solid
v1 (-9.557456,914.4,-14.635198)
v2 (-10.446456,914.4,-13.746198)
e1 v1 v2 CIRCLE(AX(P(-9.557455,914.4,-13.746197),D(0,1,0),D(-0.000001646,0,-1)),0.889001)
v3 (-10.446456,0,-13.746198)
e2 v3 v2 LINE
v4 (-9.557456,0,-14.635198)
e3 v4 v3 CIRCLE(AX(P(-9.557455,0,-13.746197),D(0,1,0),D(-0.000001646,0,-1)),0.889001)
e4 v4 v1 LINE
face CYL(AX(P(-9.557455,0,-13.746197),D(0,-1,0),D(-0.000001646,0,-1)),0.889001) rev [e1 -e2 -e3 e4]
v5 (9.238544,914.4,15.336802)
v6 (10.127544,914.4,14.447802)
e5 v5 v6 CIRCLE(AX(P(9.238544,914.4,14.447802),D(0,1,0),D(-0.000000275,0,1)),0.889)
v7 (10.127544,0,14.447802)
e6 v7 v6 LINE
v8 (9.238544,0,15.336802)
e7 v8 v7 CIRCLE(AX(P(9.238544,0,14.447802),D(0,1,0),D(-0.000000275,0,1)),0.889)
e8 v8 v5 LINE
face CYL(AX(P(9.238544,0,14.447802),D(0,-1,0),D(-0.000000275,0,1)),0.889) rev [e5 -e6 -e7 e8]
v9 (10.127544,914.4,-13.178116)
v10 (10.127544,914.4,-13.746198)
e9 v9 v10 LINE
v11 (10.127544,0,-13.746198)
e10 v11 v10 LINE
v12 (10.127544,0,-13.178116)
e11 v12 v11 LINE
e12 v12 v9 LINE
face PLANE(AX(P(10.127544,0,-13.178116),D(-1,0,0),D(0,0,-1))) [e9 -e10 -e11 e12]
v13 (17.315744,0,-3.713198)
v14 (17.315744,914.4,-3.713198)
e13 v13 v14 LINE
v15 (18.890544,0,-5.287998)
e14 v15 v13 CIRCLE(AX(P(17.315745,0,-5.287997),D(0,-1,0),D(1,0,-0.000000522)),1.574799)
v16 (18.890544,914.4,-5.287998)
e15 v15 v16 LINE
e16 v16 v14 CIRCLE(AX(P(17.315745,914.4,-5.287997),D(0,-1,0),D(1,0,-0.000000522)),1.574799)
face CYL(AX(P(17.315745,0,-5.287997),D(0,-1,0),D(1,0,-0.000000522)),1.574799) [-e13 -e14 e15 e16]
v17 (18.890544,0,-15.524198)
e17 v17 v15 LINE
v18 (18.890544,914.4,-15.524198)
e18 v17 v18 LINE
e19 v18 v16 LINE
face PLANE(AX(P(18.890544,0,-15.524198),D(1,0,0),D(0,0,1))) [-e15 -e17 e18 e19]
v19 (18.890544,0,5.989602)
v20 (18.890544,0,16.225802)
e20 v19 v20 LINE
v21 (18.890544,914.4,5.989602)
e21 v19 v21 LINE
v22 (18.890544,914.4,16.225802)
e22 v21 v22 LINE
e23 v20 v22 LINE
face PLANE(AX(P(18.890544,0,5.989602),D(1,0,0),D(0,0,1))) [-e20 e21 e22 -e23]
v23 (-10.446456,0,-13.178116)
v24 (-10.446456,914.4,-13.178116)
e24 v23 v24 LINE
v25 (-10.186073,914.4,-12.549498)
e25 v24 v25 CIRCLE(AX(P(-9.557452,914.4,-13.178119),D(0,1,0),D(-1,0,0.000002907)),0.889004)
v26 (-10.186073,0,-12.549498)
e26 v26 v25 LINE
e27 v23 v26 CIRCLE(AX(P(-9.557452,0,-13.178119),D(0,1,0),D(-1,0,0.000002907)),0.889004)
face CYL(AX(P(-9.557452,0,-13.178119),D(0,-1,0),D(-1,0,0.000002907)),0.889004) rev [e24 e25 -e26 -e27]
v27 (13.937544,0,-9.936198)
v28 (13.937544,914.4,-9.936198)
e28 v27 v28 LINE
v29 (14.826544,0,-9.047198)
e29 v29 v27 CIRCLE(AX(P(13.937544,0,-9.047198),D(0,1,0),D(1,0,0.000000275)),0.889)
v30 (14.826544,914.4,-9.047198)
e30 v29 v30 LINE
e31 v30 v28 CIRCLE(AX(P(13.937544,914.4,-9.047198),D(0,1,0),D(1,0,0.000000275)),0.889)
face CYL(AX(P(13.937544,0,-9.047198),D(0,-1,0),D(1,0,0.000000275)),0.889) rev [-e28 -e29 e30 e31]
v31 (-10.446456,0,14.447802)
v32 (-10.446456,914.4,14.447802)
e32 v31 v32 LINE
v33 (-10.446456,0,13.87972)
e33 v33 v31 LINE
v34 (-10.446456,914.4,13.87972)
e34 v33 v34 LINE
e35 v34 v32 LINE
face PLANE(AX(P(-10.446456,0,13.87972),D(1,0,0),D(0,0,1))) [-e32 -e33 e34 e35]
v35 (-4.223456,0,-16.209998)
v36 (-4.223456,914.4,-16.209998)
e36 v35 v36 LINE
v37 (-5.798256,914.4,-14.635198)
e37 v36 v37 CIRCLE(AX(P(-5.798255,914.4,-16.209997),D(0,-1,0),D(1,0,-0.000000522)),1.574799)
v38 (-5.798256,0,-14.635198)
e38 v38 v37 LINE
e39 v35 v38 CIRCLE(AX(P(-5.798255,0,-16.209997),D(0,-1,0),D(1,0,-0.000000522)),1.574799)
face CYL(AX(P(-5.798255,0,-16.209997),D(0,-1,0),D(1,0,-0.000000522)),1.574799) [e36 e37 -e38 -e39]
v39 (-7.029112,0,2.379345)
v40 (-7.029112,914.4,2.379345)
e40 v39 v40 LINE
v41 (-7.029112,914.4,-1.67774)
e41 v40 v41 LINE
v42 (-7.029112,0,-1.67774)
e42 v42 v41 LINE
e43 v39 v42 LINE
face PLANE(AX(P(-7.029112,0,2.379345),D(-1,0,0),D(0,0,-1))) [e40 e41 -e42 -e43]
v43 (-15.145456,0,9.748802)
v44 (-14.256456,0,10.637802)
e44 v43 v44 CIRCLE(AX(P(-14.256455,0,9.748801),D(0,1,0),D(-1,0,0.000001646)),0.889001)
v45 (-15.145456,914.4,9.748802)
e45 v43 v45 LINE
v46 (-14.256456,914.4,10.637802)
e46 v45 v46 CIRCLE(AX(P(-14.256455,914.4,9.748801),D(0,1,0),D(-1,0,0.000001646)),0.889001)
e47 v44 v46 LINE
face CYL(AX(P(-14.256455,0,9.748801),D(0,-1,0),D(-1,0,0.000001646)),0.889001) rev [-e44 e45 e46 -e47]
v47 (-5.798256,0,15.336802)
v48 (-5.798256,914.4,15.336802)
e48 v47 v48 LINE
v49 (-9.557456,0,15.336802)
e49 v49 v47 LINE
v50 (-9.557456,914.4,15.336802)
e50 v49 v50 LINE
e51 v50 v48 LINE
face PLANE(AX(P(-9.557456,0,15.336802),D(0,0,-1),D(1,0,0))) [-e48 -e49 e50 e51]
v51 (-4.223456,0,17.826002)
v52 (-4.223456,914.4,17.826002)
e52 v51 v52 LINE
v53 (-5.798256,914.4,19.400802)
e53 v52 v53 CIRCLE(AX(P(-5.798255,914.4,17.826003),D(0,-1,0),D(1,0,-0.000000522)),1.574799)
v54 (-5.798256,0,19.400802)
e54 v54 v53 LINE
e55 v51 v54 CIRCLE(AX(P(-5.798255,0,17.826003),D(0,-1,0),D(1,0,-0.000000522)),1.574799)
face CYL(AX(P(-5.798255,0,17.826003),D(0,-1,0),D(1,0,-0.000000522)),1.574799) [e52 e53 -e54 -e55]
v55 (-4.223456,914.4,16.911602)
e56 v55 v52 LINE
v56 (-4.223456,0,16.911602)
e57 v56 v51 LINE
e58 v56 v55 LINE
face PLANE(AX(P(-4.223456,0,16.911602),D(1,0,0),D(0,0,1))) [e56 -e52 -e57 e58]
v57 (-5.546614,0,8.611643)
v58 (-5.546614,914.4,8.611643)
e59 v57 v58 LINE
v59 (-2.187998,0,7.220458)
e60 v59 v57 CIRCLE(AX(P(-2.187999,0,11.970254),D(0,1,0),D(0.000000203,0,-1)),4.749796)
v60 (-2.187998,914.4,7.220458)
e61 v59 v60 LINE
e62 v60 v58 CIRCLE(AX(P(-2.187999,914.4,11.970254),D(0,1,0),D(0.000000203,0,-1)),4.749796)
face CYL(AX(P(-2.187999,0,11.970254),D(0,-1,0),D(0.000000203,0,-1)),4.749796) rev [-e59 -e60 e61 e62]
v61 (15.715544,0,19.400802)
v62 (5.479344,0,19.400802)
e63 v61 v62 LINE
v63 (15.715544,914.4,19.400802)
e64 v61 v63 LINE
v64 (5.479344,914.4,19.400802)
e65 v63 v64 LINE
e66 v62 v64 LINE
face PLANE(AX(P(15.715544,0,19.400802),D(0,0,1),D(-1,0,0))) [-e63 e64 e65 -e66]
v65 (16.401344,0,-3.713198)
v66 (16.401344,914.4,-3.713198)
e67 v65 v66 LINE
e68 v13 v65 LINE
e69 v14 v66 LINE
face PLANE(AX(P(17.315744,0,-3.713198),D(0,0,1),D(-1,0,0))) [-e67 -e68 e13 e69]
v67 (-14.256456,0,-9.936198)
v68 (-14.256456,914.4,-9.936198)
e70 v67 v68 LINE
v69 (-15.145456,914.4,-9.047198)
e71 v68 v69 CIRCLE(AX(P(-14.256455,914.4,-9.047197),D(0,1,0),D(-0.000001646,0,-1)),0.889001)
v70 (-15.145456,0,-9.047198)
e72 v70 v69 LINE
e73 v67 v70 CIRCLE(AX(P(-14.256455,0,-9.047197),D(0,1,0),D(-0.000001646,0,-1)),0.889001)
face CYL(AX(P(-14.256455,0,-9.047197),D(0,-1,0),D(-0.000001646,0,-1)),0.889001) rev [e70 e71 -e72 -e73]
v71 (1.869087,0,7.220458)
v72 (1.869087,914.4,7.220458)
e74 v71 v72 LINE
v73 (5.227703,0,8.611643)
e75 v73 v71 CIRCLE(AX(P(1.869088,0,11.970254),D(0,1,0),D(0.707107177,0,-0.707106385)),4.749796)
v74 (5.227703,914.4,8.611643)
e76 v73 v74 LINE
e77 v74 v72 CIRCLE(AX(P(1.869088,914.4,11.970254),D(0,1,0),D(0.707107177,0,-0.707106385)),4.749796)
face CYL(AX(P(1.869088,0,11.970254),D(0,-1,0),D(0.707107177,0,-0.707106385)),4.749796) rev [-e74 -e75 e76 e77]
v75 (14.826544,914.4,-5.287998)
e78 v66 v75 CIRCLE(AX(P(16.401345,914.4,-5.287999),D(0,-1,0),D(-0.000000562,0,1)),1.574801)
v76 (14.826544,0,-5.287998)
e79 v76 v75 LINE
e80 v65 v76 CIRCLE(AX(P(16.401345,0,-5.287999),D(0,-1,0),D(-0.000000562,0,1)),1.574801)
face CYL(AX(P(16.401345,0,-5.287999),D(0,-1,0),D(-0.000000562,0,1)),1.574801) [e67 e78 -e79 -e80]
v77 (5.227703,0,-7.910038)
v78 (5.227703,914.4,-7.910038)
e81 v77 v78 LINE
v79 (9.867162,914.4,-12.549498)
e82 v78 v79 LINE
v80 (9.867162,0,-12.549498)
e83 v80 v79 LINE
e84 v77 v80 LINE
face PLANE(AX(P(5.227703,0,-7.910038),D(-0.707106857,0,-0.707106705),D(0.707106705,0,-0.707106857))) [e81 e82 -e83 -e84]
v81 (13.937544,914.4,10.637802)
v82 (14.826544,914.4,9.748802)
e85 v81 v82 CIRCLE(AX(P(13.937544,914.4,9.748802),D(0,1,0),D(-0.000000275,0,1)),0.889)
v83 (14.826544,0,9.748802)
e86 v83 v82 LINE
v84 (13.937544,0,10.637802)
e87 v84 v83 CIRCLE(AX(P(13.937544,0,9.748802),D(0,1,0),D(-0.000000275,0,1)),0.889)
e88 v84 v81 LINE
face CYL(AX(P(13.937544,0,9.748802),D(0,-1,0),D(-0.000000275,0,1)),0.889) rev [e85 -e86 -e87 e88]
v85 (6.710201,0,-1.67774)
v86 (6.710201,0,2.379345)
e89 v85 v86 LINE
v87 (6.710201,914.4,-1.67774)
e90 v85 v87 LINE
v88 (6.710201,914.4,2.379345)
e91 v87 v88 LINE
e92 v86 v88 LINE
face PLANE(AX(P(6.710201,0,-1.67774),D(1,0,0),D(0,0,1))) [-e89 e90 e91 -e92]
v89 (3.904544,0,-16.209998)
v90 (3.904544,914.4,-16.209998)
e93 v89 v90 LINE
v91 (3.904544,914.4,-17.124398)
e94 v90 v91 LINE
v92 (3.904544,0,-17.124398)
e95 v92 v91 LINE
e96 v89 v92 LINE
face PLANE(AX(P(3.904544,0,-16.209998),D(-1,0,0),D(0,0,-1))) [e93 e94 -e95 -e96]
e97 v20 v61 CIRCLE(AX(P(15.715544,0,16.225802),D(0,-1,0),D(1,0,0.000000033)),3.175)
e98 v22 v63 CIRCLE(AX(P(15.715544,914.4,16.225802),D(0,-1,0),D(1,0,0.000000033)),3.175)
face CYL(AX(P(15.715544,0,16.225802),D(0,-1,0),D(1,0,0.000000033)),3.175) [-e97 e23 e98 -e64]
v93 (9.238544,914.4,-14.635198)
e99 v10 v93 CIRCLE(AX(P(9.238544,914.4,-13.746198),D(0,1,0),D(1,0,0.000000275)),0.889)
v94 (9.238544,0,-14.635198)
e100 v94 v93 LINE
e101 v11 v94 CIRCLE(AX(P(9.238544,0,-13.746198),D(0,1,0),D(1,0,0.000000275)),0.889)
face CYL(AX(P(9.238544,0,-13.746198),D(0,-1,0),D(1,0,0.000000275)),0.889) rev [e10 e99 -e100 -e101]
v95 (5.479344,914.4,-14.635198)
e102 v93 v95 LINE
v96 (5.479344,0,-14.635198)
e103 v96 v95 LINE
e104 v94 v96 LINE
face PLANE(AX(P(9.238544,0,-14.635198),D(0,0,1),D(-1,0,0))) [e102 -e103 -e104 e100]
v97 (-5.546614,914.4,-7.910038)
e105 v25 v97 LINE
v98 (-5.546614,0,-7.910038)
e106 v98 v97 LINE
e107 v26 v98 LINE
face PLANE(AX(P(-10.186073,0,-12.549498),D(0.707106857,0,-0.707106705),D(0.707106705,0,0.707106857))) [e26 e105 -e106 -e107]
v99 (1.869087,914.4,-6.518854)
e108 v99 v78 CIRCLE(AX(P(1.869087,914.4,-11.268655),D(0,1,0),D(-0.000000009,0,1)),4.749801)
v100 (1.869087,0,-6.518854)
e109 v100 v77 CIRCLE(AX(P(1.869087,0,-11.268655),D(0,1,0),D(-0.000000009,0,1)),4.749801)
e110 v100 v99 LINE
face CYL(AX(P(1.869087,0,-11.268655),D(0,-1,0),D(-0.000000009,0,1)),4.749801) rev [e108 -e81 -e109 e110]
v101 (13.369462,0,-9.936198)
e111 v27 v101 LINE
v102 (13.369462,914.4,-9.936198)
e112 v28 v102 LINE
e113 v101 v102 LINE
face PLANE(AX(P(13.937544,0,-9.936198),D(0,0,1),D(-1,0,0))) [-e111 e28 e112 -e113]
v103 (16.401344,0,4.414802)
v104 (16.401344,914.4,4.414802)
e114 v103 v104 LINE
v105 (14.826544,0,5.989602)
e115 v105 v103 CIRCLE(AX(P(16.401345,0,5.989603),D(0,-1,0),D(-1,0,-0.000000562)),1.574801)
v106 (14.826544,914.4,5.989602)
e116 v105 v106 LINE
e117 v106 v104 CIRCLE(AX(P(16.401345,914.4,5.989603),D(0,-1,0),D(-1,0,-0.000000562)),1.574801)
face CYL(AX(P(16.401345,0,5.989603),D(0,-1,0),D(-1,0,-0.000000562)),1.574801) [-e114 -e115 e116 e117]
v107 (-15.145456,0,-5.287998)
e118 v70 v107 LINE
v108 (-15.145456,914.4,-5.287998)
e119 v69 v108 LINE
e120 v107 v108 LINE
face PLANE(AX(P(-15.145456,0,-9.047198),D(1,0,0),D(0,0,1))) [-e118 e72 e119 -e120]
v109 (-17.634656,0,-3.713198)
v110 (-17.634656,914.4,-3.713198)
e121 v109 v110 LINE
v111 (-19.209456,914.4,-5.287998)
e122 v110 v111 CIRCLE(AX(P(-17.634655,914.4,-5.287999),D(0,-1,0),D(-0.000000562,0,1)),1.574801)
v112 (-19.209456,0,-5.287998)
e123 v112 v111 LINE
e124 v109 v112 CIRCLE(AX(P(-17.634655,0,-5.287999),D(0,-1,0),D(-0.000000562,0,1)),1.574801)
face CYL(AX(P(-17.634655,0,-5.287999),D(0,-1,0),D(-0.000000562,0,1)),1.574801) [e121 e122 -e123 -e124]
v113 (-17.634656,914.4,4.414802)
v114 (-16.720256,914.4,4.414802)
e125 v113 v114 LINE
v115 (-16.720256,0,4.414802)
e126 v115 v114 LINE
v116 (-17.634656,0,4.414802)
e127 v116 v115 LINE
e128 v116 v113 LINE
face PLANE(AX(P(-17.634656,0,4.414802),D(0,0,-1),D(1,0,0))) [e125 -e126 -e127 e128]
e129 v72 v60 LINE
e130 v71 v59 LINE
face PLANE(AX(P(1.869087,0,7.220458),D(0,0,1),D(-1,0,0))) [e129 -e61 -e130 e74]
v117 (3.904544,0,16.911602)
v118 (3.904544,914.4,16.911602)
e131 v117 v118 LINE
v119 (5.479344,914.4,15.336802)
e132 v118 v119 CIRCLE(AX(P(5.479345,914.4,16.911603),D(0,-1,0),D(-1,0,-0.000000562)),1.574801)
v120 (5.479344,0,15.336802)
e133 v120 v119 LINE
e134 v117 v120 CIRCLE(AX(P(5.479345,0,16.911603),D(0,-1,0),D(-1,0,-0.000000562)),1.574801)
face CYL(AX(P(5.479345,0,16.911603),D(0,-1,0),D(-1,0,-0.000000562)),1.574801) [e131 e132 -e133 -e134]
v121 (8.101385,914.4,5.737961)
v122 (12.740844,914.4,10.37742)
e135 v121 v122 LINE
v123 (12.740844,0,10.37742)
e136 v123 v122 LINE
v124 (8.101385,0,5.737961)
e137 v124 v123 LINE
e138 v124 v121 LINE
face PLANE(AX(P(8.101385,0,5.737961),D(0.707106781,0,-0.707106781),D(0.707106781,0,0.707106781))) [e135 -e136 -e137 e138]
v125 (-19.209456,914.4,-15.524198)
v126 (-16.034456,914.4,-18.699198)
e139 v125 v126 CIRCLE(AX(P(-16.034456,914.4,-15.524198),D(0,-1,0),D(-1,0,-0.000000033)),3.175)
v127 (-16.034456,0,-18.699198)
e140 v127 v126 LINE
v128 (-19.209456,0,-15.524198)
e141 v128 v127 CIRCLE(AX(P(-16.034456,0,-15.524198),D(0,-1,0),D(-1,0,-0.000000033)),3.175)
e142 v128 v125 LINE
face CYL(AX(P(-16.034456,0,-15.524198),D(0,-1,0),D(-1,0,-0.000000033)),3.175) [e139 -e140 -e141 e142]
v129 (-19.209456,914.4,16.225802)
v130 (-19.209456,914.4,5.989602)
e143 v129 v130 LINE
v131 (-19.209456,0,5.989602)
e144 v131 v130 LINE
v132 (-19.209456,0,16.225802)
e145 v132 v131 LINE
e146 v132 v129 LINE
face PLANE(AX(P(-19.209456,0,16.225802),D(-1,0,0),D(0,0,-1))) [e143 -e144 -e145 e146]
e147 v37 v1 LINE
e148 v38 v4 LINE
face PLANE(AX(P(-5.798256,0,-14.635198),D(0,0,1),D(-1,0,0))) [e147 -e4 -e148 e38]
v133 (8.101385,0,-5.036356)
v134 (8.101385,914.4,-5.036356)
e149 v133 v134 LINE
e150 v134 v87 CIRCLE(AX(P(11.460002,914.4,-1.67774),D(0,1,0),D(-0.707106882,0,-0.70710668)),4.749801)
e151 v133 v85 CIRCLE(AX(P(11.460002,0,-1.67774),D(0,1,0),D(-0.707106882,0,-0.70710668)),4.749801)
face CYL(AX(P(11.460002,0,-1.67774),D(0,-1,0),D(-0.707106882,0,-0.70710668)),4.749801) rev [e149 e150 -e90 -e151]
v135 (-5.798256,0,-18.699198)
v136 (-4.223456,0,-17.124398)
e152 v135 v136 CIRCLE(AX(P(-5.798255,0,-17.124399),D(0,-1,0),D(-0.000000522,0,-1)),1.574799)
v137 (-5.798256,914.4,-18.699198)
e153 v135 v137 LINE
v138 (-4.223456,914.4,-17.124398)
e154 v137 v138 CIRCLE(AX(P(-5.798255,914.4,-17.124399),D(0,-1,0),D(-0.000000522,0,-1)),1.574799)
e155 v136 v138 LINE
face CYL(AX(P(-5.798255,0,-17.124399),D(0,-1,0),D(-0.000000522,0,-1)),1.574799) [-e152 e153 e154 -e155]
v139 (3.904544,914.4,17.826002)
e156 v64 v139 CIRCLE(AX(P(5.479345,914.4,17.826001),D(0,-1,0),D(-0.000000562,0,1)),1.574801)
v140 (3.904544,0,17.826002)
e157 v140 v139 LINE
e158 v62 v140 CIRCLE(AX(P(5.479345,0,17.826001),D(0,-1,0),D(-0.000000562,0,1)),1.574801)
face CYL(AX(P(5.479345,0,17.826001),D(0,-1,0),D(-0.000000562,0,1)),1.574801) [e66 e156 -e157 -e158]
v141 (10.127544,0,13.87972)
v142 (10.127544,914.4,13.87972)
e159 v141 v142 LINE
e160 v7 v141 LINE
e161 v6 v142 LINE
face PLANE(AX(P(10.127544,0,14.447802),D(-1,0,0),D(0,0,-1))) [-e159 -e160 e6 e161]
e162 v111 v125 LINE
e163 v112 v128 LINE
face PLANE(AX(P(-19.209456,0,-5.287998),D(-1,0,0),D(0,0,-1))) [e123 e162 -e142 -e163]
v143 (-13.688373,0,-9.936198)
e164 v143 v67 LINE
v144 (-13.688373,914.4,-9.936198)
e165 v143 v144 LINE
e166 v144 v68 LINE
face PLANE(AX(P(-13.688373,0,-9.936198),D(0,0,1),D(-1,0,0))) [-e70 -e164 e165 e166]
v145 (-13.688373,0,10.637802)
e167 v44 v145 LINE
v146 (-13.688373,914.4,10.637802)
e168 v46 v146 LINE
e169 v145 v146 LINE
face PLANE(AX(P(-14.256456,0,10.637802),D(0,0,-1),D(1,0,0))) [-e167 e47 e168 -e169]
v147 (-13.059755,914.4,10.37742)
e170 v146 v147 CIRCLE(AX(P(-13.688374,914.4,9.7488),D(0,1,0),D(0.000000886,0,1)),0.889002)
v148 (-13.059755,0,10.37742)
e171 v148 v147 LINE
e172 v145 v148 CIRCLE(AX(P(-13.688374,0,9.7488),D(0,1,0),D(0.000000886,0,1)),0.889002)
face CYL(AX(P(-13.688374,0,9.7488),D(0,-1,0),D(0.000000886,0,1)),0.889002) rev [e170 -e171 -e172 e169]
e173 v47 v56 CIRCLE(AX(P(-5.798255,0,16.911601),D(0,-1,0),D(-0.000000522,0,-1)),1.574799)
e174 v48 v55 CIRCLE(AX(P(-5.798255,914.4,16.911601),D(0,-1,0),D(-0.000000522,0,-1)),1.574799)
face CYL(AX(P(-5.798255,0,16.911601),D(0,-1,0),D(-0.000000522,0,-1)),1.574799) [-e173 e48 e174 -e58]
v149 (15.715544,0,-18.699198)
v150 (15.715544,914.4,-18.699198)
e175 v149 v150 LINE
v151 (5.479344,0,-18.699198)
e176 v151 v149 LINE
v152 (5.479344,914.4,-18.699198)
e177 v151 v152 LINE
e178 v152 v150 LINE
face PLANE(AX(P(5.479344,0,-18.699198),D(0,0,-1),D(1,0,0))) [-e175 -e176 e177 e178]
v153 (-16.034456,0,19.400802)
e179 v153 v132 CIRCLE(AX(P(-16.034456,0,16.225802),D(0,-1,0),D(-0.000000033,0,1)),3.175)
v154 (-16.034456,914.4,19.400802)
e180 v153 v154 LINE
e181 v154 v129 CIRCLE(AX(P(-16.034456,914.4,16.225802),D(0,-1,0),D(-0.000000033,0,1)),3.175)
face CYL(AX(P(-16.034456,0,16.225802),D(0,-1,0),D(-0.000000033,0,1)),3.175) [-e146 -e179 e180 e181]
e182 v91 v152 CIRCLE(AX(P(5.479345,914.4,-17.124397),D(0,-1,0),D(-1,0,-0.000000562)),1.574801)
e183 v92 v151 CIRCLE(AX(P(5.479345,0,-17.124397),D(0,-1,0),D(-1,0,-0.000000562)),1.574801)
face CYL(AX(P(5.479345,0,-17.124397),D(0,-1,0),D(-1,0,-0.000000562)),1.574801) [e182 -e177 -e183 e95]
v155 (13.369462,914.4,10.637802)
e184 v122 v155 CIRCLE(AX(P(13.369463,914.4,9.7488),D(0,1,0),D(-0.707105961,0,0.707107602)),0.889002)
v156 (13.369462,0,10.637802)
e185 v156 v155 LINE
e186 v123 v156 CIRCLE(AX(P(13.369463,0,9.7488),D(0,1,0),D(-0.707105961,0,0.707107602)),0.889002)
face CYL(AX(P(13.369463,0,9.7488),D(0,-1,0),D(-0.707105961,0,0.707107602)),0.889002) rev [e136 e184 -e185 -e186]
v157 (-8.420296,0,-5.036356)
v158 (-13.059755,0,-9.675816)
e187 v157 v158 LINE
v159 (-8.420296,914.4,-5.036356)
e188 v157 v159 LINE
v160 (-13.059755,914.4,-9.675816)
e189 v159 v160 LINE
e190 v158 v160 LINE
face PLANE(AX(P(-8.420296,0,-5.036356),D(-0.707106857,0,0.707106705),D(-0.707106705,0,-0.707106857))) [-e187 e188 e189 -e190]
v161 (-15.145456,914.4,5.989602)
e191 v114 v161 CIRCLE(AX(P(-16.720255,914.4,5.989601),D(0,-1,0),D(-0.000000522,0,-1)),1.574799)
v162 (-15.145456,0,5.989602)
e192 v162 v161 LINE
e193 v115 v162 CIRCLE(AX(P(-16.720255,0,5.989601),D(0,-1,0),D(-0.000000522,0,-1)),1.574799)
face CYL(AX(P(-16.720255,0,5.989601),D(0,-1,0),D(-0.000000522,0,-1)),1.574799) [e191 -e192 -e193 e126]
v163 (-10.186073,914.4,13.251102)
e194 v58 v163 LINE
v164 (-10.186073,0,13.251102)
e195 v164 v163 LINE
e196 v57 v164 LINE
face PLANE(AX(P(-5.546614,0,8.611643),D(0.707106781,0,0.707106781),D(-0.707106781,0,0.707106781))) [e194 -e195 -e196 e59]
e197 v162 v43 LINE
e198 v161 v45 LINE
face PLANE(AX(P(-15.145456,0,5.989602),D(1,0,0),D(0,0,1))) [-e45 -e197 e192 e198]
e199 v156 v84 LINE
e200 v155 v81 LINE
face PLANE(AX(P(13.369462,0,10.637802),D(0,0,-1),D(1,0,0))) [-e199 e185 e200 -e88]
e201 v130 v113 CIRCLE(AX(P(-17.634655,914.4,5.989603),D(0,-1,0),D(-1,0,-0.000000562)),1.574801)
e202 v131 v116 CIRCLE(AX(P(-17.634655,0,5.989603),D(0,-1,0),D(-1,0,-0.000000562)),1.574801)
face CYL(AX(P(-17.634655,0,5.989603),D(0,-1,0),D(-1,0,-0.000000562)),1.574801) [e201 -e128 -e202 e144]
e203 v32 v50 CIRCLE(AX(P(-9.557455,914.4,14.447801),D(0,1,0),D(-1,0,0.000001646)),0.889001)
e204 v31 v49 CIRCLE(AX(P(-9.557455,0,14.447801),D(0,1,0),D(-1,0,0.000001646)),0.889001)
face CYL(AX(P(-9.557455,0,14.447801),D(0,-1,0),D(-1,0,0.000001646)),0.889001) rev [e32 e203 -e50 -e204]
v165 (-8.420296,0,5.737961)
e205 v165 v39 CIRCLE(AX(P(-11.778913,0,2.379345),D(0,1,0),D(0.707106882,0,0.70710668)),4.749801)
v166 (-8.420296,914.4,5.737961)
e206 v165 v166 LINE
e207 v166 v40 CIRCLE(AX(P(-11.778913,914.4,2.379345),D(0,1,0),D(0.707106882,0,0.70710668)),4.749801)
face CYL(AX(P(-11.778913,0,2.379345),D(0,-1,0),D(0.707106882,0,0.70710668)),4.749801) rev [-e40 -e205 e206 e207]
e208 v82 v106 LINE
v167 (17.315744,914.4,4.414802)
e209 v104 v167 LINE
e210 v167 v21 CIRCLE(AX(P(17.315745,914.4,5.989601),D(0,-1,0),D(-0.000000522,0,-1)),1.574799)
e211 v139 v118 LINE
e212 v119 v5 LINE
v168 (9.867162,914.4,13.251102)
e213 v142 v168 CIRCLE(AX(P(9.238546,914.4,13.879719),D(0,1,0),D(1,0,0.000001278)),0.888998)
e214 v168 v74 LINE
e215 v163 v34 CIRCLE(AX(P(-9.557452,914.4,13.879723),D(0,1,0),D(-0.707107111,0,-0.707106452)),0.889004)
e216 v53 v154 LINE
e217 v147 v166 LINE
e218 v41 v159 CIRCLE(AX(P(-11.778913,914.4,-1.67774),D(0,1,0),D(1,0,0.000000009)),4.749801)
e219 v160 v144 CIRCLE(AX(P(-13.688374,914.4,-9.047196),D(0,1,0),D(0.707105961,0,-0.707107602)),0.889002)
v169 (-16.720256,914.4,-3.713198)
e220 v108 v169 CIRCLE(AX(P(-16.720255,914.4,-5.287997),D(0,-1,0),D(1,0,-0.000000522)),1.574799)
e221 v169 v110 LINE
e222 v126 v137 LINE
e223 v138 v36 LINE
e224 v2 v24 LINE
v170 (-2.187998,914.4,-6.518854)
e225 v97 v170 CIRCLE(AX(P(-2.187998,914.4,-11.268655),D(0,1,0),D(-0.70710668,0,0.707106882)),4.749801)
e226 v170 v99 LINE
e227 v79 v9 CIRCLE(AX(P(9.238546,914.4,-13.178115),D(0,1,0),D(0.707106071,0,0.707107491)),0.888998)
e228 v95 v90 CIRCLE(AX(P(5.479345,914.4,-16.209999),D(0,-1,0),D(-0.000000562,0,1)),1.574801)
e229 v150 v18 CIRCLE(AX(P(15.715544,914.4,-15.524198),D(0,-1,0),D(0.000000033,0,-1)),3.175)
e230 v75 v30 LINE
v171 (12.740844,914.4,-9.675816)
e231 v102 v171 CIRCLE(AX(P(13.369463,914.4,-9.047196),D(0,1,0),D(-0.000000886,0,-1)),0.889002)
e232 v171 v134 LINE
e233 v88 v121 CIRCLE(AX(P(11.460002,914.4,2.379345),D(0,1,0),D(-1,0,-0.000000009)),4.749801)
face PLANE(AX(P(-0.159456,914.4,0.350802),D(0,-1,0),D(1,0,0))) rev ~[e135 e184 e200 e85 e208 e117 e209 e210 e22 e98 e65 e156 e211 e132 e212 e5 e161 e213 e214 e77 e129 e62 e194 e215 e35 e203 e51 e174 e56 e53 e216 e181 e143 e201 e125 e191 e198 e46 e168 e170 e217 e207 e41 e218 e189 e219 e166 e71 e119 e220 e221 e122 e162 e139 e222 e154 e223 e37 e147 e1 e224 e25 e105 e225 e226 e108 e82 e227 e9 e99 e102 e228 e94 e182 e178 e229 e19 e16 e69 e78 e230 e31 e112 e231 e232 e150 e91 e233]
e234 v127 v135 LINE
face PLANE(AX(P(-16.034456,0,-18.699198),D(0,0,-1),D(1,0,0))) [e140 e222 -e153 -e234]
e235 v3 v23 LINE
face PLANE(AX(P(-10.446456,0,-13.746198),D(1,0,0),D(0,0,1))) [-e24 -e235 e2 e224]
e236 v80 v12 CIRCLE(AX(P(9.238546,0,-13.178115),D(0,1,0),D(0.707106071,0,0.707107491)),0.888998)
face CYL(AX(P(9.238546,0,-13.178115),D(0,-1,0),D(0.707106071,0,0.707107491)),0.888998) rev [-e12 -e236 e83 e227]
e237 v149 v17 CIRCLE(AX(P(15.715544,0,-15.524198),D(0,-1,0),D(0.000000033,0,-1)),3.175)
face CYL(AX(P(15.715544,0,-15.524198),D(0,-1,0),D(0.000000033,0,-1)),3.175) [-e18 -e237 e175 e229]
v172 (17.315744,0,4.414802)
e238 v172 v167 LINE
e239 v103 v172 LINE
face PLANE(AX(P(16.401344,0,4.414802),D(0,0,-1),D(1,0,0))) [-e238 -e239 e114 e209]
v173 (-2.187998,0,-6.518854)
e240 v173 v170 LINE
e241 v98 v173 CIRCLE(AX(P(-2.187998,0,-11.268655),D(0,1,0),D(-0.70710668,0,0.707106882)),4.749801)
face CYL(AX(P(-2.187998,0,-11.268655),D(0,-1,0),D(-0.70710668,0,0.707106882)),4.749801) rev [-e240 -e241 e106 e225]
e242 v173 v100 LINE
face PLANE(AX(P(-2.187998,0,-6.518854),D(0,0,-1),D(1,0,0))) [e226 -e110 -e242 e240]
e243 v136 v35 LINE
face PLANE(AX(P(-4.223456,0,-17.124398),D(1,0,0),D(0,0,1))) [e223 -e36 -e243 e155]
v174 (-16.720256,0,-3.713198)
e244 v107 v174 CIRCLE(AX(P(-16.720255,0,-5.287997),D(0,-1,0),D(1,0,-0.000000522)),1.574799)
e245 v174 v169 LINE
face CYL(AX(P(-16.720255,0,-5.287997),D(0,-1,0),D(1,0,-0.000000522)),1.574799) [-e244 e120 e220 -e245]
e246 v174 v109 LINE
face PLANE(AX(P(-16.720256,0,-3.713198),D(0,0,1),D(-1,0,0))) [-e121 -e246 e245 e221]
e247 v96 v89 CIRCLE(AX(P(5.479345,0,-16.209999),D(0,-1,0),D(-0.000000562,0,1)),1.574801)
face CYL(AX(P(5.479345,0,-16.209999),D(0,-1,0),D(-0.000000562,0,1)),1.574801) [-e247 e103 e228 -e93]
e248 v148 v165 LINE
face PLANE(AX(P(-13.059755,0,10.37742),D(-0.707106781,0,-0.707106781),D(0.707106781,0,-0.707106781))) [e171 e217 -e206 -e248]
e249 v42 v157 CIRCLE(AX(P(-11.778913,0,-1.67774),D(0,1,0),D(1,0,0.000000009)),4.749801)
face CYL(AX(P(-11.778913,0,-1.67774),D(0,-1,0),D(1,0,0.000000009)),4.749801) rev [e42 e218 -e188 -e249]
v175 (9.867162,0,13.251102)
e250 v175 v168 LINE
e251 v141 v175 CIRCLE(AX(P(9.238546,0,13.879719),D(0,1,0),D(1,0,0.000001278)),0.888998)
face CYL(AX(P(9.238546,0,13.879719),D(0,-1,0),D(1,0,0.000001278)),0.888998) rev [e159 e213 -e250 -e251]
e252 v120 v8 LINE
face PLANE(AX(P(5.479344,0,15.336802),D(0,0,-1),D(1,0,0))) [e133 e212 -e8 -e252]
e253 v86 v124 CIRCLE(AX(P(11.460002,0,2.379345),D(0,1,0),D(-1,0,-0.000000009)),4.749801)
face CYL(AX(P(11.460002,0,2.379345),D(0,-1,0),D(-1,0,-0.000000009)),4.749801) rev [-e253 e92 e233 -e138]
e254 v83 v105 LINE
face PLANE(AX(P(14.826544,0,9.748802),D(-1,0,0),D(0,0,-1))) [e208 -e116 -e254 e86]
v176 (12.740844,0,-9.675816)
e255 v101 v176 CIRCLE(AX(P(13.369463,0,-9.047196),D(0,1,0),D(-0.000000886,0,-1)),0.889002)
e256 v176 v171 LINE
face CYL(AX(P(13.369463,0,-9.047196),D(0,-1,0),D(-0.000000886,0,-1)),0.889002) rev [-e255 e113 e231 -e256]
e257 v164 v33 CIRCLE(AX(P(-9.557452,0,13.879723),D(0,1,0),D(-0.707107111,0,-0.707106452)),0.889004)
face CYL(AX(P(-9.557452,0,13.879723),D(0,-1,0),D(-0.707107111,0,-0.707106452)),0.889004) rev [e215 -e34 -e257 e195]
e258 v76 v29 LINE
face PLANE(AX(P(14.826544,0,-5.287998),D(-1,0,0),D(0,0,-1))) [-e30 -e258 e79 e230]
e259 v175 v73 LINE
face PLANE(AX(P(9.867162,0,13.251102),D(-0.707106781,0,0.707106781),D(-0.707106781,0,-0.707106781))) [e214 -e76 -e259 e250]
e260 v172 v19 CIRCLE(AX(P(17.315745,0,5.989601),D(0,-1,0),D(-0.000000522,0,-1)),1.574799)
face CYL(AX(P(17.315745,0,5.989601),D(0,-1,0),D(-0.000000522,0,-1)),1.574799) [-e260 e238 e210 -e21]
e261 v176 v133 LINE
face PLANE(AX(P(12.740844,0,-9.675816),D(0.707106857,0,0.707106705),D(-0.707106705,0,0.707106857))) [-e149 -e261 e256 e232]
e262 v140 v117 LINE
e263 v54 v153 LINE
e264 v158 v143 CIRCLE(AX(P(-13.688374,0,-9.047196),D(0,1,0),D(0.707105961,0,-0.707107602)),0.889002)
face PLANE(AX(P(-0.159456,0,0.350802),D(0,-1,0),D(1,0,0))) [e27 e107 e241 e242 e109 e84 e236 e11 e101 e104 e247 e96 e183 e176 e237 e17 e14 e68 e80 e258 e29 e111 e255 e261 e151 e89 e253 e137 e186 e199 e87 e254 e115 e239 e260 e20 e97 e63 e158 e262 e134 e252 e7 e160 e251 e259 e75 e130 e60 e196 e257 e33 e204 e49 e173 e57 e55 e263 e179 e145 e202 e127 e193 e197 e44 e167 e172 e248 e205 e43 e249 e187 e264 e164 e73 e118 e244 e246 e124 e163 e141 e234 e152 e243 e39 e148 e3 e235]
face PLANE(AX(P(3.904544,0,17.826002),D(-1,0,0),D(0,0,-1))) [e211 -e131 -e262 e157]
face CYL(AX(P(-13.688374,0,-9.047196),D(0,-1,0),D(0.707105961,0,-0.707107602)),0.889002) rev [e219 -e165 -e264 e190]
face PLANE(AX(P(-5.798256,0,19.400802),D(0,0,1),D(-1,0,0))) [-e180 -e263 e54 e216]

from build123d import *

# Parameters (mm, degrees)
F1_DEPTH = 914.4


with BuildPart() as f1:
    # F0 (on Front) → F1 (new body)
    with BuildSketch(Plane.XZ):
        with BuildLine():
            Line((-5.798256, 19.400802), (-16.034456, 19.400802))
            ThreePointArc((-16.034456, 19.400802), (-18.27952, 18.470866), (-19.209456, 16.225802))
            Line((-19.209456, 16.225802), (-19.209456, 5.989602))
            ThreePointArc((-19.209456, 5.989602), (-18.748207, 4.87605), (-17.634656, 4.414802))
            Line((-17.634656, 4.414802), (-16.720256, 4.414802))
            ThreePointArc((-16.720256, 4.414802), (-15.606704, 4.87605), (-15.145456, 5.989602))
            Line((-15.145456, 5.989602), (-15.145456, 9.748802))
            ThreePointArc((-15.145456, 9.748802), (-14.885073, 10.37742), (-14.256456, 10.637802))
            Line((-14.256456, 10.637802), (-13.688373, 10.637802))
            ThreePointArc((-13.688373, 10.637802), (-13.348168, 10.570131), (-13.059755, 10.37742))
            Line((-13.059755, 10.37742), (-8.420296, 5.737961))
            ThreePointArc((-8.420296, 5.737961), (-7.390669, 4.197015), (-7.029112, 2.379345))
            Line((-7.029112, 2.379345), (-7.029112, -1.67774))
            ThreePointArc((-7.029112, -1.67774), (-7.390669, -3.49541), (-8.420296, -5.036356))
            Line((-8.420296, -5.036356), (-13.059755, -9.675816))
            ThreePointArc((-13.059755, -9.675816), (-13.348168, -9.868527), (-13.688373, -9.936198))
            Line((-13.688373, -9.936198), (-14.256456, -9.936198))
            ThreePointArc((-14.256456, -9.936198), (-14.885073, -9.675816), (-15.145456, -9.047198))
            Line((-15.145456, -9.047198), (-15.145456, -5.287998))
            ThreePointArc((-15.145456, -5.287998), (-15.606704, -4.174446), (-16.720256, -3.713198))
            Line((-16.720256, -3.713198), (-17.634656, -3.713198))
            ThreePointArc((-17.634656, -3.713198), (-18.748207, -4.174446), (-19.209456, -5.287998))
            Line((-19.209456, -5.287998), (-19.209456, -15.524198))
            ThreePointArc((-19.209456, -15.524198), (-18.27952, -17.769262), (-16.034456, -18.699198))
            Line((-16.034456, -18.699198), (-5.798256, -18.699198))
            ThreePointArc((-5.798256, -18.699198), (-4.684704, -18.23795), (-4.223456, -17.124398))
            Line((-4.223456, -17.124398), (-4.223456, -16.209998))
            ThreePointArc((-4.223456, -16.209998), (-4.684704, -15.096446), (-5.798256, -14.635198))
            Line((-5.798256, -14.635198), (-9.557456, -14.635198))
            ThreePointArc((-9.557456, -14.635198), (-10.186073, -14.374816), (-10.446456, -13.746198))
            Line((-10.446456, -13.746198), (-10.446456, -13.178116))
            ThreePointArc((-10.446456, -13.178116), (-10.378784, -12.83791), (-10.186073, -12.549498))
            Line((-10.186073, -12.549498), (-5.546614, -7.910038))
            ThreePointArc((-5.546614, -7.910038), (-4.005668, -6.880411), (-2.187998, -6.518854))
            Line((-2.187998, -6.518854), (1.869087, -6.518854))
            ThreePointArc((1.869087, -6.518854), (3.686757, -6.880411), (5.227703, -7.910038))
            Line((5.227703, -7.910038), (9.867162, -12.549498))
            ThreePointArc((9.867162, -12.549498), (10.059873, -12.83791), (10.127544, -13.178116))
            Line((10.127544, -13.178116), (10.127544, -13.746198))
            ThreePointArc((10.127544, -13.746198), (9.867162, -14.374816), (9.238544, -14.635198))
            Line((9.238544, -14.635198), (5.479344, -14.635198))
            ThreePointArc((5.479344, -14.635198), (4.365793, -15.096446), (3.904544, -16.209998))
            Line((3.904544, -16.209998), (3.904544, -17.124398))
            ThreePointArc((3.904544, -17.124398), (4.365793, -18.23795), (5.479344, -18.699198))
            Line((5.479344, -18.699198), (15.715544, -18.699198))
            ThreePointArc((15.715544, -18.699198), (17.960608, -17.769262), (18.890544, -15.524198))
            Line((18.890544, -15.524198), (18.890544, -5.287998))
            ThreePointArc((18.890544, -5.287998), (18.429296, -4.174446), (17.315744, -3.713198))
            Line((17.315744, -3.713198), (16.401344, -3.713198))
            ThreePointArc((16.401344, -3.713198), (15.287793, -4.174446), (14.826544, -5.287998))
            Line((14.826544, -5.287998), (14.826544, -9.047198))
            ThreePointArc((14.826544, -9.047198), (14.566162, -9.675816), (13.937544, -9.936198))
            Line((13.937544, -9.936198), (13.369462, -9.936198))
            ThreePointArc((13.369462, -9.936198), (13.029257, -9.868527), (12.740844, -9.675816))
            Line((12.740844, -9.675816), (8.101385, -5.036356))
            ThreePointArc((8.101385, -5.036356), (7.071758, -3.49541), (6.710201, -1.67774))
            Line((6.710201, -1.67774), (6.710201, 2.379345))
            ThreePointArc((6.710201, 2.379345), (7.071758, 4.197015), (8.101385, 5.737961))
            Line((8.101385, 5.737961), (12.740844, 10.37742))
            ThreePointArc((12.740844, 10.37742), (13.029257, 10.570131), (13.369462, 10.637802))
            Line((13.369462, 10.637802), (13.937544, 10.637802))
            ThreePointArc((13.937544, 10.637802), (14.566162, 10.37742), (14.826544, 9.748802))
            Line((14.826544, 9.748802), (14.826544, 5.989602))
            ThreePointArc((14.826544, 5.989602), (15.287793, 4.87605), (16.401344, 4.414802))
            Line((16.401344, 4.414802), (17.315744, 4.414802))
            ThreePointArc((17.315744, 4.414802), (18.429296, 4.87605), (18.890544, 5.989602))
            Line((18.890544, 5.989602), (18.890544, 16.225802))
            ThreePointArc((18.890544, 16.225802), (17.960608, 18.470866), (15.715544, 19.400802))
            Line((15.715544, 19.400802), (5.479344, 19.400802))
            ThreePointArc((5.479344, 19.400802), (4.365793, 18.939554), (3.904544, 17.826002))
            Line((3.904544, 17.826002), (3.904544, 16.911602))
            ThreePointArc((3.904544, 16.911602), (4.365793, 15.79805), (5.479344, 15.336802))
            Line((5.479344, 15.336802), (9.238544, 15.336802))
            ThreePointArc((9.238544, 15.336802), (9.867162, 15.07642), (10.127544, 14.447802))
            Line((10.127544, 14.447802), (10.127544, 13.87972))
            ThreePointArc((10.127544, 13.87972), (10.059873, 13.539514), (9.867162, 13.251102))
            Line((9.867162, 13.251102), (5.227703, 8.611643))
            ThreePointArc((5.227703, 8.611643), (3.686757, 7.582015), (1.869087, 7.220458))
            Line((1.869087, 7.220458), (-2.187998, 7.220458))
            ThreePointArc((-2.187998, 7.220458), (-4.005668, 7.582015), (-5.546614, 8.611643))
            Line((-5.546614, 8.611643), (-10.186073, 13.251102))
            ThreePointArc((-10.186073, 13.251102), (-10.378784, 13.539514), (-10.446456, 13.87972))
            Line((-10.446456, 13.87972), (-10.446456, 14.447802))
            ThreePointArc((-10.446456, 14.447802), (-10.186073, 15.07642), (-9.557456, 15.336802))
            Line((-9.557456, 15.336802), (-5.798256, 15.336802))
            ThreePointArc((-5.798256, 15.336802), (-4.684704, 15.79805), (-4.223456, 16.911602))
            Line((-4.223456, 16.911602), (-4.223456, 17.826002))
            ThreePointArc((-4.223456, 17.826002), (-4.684704, 18.939554), (-5.798256, 19.400802))
        make_face()
    extrude(amount=-F1_DEPTH)


solid = f1.part
